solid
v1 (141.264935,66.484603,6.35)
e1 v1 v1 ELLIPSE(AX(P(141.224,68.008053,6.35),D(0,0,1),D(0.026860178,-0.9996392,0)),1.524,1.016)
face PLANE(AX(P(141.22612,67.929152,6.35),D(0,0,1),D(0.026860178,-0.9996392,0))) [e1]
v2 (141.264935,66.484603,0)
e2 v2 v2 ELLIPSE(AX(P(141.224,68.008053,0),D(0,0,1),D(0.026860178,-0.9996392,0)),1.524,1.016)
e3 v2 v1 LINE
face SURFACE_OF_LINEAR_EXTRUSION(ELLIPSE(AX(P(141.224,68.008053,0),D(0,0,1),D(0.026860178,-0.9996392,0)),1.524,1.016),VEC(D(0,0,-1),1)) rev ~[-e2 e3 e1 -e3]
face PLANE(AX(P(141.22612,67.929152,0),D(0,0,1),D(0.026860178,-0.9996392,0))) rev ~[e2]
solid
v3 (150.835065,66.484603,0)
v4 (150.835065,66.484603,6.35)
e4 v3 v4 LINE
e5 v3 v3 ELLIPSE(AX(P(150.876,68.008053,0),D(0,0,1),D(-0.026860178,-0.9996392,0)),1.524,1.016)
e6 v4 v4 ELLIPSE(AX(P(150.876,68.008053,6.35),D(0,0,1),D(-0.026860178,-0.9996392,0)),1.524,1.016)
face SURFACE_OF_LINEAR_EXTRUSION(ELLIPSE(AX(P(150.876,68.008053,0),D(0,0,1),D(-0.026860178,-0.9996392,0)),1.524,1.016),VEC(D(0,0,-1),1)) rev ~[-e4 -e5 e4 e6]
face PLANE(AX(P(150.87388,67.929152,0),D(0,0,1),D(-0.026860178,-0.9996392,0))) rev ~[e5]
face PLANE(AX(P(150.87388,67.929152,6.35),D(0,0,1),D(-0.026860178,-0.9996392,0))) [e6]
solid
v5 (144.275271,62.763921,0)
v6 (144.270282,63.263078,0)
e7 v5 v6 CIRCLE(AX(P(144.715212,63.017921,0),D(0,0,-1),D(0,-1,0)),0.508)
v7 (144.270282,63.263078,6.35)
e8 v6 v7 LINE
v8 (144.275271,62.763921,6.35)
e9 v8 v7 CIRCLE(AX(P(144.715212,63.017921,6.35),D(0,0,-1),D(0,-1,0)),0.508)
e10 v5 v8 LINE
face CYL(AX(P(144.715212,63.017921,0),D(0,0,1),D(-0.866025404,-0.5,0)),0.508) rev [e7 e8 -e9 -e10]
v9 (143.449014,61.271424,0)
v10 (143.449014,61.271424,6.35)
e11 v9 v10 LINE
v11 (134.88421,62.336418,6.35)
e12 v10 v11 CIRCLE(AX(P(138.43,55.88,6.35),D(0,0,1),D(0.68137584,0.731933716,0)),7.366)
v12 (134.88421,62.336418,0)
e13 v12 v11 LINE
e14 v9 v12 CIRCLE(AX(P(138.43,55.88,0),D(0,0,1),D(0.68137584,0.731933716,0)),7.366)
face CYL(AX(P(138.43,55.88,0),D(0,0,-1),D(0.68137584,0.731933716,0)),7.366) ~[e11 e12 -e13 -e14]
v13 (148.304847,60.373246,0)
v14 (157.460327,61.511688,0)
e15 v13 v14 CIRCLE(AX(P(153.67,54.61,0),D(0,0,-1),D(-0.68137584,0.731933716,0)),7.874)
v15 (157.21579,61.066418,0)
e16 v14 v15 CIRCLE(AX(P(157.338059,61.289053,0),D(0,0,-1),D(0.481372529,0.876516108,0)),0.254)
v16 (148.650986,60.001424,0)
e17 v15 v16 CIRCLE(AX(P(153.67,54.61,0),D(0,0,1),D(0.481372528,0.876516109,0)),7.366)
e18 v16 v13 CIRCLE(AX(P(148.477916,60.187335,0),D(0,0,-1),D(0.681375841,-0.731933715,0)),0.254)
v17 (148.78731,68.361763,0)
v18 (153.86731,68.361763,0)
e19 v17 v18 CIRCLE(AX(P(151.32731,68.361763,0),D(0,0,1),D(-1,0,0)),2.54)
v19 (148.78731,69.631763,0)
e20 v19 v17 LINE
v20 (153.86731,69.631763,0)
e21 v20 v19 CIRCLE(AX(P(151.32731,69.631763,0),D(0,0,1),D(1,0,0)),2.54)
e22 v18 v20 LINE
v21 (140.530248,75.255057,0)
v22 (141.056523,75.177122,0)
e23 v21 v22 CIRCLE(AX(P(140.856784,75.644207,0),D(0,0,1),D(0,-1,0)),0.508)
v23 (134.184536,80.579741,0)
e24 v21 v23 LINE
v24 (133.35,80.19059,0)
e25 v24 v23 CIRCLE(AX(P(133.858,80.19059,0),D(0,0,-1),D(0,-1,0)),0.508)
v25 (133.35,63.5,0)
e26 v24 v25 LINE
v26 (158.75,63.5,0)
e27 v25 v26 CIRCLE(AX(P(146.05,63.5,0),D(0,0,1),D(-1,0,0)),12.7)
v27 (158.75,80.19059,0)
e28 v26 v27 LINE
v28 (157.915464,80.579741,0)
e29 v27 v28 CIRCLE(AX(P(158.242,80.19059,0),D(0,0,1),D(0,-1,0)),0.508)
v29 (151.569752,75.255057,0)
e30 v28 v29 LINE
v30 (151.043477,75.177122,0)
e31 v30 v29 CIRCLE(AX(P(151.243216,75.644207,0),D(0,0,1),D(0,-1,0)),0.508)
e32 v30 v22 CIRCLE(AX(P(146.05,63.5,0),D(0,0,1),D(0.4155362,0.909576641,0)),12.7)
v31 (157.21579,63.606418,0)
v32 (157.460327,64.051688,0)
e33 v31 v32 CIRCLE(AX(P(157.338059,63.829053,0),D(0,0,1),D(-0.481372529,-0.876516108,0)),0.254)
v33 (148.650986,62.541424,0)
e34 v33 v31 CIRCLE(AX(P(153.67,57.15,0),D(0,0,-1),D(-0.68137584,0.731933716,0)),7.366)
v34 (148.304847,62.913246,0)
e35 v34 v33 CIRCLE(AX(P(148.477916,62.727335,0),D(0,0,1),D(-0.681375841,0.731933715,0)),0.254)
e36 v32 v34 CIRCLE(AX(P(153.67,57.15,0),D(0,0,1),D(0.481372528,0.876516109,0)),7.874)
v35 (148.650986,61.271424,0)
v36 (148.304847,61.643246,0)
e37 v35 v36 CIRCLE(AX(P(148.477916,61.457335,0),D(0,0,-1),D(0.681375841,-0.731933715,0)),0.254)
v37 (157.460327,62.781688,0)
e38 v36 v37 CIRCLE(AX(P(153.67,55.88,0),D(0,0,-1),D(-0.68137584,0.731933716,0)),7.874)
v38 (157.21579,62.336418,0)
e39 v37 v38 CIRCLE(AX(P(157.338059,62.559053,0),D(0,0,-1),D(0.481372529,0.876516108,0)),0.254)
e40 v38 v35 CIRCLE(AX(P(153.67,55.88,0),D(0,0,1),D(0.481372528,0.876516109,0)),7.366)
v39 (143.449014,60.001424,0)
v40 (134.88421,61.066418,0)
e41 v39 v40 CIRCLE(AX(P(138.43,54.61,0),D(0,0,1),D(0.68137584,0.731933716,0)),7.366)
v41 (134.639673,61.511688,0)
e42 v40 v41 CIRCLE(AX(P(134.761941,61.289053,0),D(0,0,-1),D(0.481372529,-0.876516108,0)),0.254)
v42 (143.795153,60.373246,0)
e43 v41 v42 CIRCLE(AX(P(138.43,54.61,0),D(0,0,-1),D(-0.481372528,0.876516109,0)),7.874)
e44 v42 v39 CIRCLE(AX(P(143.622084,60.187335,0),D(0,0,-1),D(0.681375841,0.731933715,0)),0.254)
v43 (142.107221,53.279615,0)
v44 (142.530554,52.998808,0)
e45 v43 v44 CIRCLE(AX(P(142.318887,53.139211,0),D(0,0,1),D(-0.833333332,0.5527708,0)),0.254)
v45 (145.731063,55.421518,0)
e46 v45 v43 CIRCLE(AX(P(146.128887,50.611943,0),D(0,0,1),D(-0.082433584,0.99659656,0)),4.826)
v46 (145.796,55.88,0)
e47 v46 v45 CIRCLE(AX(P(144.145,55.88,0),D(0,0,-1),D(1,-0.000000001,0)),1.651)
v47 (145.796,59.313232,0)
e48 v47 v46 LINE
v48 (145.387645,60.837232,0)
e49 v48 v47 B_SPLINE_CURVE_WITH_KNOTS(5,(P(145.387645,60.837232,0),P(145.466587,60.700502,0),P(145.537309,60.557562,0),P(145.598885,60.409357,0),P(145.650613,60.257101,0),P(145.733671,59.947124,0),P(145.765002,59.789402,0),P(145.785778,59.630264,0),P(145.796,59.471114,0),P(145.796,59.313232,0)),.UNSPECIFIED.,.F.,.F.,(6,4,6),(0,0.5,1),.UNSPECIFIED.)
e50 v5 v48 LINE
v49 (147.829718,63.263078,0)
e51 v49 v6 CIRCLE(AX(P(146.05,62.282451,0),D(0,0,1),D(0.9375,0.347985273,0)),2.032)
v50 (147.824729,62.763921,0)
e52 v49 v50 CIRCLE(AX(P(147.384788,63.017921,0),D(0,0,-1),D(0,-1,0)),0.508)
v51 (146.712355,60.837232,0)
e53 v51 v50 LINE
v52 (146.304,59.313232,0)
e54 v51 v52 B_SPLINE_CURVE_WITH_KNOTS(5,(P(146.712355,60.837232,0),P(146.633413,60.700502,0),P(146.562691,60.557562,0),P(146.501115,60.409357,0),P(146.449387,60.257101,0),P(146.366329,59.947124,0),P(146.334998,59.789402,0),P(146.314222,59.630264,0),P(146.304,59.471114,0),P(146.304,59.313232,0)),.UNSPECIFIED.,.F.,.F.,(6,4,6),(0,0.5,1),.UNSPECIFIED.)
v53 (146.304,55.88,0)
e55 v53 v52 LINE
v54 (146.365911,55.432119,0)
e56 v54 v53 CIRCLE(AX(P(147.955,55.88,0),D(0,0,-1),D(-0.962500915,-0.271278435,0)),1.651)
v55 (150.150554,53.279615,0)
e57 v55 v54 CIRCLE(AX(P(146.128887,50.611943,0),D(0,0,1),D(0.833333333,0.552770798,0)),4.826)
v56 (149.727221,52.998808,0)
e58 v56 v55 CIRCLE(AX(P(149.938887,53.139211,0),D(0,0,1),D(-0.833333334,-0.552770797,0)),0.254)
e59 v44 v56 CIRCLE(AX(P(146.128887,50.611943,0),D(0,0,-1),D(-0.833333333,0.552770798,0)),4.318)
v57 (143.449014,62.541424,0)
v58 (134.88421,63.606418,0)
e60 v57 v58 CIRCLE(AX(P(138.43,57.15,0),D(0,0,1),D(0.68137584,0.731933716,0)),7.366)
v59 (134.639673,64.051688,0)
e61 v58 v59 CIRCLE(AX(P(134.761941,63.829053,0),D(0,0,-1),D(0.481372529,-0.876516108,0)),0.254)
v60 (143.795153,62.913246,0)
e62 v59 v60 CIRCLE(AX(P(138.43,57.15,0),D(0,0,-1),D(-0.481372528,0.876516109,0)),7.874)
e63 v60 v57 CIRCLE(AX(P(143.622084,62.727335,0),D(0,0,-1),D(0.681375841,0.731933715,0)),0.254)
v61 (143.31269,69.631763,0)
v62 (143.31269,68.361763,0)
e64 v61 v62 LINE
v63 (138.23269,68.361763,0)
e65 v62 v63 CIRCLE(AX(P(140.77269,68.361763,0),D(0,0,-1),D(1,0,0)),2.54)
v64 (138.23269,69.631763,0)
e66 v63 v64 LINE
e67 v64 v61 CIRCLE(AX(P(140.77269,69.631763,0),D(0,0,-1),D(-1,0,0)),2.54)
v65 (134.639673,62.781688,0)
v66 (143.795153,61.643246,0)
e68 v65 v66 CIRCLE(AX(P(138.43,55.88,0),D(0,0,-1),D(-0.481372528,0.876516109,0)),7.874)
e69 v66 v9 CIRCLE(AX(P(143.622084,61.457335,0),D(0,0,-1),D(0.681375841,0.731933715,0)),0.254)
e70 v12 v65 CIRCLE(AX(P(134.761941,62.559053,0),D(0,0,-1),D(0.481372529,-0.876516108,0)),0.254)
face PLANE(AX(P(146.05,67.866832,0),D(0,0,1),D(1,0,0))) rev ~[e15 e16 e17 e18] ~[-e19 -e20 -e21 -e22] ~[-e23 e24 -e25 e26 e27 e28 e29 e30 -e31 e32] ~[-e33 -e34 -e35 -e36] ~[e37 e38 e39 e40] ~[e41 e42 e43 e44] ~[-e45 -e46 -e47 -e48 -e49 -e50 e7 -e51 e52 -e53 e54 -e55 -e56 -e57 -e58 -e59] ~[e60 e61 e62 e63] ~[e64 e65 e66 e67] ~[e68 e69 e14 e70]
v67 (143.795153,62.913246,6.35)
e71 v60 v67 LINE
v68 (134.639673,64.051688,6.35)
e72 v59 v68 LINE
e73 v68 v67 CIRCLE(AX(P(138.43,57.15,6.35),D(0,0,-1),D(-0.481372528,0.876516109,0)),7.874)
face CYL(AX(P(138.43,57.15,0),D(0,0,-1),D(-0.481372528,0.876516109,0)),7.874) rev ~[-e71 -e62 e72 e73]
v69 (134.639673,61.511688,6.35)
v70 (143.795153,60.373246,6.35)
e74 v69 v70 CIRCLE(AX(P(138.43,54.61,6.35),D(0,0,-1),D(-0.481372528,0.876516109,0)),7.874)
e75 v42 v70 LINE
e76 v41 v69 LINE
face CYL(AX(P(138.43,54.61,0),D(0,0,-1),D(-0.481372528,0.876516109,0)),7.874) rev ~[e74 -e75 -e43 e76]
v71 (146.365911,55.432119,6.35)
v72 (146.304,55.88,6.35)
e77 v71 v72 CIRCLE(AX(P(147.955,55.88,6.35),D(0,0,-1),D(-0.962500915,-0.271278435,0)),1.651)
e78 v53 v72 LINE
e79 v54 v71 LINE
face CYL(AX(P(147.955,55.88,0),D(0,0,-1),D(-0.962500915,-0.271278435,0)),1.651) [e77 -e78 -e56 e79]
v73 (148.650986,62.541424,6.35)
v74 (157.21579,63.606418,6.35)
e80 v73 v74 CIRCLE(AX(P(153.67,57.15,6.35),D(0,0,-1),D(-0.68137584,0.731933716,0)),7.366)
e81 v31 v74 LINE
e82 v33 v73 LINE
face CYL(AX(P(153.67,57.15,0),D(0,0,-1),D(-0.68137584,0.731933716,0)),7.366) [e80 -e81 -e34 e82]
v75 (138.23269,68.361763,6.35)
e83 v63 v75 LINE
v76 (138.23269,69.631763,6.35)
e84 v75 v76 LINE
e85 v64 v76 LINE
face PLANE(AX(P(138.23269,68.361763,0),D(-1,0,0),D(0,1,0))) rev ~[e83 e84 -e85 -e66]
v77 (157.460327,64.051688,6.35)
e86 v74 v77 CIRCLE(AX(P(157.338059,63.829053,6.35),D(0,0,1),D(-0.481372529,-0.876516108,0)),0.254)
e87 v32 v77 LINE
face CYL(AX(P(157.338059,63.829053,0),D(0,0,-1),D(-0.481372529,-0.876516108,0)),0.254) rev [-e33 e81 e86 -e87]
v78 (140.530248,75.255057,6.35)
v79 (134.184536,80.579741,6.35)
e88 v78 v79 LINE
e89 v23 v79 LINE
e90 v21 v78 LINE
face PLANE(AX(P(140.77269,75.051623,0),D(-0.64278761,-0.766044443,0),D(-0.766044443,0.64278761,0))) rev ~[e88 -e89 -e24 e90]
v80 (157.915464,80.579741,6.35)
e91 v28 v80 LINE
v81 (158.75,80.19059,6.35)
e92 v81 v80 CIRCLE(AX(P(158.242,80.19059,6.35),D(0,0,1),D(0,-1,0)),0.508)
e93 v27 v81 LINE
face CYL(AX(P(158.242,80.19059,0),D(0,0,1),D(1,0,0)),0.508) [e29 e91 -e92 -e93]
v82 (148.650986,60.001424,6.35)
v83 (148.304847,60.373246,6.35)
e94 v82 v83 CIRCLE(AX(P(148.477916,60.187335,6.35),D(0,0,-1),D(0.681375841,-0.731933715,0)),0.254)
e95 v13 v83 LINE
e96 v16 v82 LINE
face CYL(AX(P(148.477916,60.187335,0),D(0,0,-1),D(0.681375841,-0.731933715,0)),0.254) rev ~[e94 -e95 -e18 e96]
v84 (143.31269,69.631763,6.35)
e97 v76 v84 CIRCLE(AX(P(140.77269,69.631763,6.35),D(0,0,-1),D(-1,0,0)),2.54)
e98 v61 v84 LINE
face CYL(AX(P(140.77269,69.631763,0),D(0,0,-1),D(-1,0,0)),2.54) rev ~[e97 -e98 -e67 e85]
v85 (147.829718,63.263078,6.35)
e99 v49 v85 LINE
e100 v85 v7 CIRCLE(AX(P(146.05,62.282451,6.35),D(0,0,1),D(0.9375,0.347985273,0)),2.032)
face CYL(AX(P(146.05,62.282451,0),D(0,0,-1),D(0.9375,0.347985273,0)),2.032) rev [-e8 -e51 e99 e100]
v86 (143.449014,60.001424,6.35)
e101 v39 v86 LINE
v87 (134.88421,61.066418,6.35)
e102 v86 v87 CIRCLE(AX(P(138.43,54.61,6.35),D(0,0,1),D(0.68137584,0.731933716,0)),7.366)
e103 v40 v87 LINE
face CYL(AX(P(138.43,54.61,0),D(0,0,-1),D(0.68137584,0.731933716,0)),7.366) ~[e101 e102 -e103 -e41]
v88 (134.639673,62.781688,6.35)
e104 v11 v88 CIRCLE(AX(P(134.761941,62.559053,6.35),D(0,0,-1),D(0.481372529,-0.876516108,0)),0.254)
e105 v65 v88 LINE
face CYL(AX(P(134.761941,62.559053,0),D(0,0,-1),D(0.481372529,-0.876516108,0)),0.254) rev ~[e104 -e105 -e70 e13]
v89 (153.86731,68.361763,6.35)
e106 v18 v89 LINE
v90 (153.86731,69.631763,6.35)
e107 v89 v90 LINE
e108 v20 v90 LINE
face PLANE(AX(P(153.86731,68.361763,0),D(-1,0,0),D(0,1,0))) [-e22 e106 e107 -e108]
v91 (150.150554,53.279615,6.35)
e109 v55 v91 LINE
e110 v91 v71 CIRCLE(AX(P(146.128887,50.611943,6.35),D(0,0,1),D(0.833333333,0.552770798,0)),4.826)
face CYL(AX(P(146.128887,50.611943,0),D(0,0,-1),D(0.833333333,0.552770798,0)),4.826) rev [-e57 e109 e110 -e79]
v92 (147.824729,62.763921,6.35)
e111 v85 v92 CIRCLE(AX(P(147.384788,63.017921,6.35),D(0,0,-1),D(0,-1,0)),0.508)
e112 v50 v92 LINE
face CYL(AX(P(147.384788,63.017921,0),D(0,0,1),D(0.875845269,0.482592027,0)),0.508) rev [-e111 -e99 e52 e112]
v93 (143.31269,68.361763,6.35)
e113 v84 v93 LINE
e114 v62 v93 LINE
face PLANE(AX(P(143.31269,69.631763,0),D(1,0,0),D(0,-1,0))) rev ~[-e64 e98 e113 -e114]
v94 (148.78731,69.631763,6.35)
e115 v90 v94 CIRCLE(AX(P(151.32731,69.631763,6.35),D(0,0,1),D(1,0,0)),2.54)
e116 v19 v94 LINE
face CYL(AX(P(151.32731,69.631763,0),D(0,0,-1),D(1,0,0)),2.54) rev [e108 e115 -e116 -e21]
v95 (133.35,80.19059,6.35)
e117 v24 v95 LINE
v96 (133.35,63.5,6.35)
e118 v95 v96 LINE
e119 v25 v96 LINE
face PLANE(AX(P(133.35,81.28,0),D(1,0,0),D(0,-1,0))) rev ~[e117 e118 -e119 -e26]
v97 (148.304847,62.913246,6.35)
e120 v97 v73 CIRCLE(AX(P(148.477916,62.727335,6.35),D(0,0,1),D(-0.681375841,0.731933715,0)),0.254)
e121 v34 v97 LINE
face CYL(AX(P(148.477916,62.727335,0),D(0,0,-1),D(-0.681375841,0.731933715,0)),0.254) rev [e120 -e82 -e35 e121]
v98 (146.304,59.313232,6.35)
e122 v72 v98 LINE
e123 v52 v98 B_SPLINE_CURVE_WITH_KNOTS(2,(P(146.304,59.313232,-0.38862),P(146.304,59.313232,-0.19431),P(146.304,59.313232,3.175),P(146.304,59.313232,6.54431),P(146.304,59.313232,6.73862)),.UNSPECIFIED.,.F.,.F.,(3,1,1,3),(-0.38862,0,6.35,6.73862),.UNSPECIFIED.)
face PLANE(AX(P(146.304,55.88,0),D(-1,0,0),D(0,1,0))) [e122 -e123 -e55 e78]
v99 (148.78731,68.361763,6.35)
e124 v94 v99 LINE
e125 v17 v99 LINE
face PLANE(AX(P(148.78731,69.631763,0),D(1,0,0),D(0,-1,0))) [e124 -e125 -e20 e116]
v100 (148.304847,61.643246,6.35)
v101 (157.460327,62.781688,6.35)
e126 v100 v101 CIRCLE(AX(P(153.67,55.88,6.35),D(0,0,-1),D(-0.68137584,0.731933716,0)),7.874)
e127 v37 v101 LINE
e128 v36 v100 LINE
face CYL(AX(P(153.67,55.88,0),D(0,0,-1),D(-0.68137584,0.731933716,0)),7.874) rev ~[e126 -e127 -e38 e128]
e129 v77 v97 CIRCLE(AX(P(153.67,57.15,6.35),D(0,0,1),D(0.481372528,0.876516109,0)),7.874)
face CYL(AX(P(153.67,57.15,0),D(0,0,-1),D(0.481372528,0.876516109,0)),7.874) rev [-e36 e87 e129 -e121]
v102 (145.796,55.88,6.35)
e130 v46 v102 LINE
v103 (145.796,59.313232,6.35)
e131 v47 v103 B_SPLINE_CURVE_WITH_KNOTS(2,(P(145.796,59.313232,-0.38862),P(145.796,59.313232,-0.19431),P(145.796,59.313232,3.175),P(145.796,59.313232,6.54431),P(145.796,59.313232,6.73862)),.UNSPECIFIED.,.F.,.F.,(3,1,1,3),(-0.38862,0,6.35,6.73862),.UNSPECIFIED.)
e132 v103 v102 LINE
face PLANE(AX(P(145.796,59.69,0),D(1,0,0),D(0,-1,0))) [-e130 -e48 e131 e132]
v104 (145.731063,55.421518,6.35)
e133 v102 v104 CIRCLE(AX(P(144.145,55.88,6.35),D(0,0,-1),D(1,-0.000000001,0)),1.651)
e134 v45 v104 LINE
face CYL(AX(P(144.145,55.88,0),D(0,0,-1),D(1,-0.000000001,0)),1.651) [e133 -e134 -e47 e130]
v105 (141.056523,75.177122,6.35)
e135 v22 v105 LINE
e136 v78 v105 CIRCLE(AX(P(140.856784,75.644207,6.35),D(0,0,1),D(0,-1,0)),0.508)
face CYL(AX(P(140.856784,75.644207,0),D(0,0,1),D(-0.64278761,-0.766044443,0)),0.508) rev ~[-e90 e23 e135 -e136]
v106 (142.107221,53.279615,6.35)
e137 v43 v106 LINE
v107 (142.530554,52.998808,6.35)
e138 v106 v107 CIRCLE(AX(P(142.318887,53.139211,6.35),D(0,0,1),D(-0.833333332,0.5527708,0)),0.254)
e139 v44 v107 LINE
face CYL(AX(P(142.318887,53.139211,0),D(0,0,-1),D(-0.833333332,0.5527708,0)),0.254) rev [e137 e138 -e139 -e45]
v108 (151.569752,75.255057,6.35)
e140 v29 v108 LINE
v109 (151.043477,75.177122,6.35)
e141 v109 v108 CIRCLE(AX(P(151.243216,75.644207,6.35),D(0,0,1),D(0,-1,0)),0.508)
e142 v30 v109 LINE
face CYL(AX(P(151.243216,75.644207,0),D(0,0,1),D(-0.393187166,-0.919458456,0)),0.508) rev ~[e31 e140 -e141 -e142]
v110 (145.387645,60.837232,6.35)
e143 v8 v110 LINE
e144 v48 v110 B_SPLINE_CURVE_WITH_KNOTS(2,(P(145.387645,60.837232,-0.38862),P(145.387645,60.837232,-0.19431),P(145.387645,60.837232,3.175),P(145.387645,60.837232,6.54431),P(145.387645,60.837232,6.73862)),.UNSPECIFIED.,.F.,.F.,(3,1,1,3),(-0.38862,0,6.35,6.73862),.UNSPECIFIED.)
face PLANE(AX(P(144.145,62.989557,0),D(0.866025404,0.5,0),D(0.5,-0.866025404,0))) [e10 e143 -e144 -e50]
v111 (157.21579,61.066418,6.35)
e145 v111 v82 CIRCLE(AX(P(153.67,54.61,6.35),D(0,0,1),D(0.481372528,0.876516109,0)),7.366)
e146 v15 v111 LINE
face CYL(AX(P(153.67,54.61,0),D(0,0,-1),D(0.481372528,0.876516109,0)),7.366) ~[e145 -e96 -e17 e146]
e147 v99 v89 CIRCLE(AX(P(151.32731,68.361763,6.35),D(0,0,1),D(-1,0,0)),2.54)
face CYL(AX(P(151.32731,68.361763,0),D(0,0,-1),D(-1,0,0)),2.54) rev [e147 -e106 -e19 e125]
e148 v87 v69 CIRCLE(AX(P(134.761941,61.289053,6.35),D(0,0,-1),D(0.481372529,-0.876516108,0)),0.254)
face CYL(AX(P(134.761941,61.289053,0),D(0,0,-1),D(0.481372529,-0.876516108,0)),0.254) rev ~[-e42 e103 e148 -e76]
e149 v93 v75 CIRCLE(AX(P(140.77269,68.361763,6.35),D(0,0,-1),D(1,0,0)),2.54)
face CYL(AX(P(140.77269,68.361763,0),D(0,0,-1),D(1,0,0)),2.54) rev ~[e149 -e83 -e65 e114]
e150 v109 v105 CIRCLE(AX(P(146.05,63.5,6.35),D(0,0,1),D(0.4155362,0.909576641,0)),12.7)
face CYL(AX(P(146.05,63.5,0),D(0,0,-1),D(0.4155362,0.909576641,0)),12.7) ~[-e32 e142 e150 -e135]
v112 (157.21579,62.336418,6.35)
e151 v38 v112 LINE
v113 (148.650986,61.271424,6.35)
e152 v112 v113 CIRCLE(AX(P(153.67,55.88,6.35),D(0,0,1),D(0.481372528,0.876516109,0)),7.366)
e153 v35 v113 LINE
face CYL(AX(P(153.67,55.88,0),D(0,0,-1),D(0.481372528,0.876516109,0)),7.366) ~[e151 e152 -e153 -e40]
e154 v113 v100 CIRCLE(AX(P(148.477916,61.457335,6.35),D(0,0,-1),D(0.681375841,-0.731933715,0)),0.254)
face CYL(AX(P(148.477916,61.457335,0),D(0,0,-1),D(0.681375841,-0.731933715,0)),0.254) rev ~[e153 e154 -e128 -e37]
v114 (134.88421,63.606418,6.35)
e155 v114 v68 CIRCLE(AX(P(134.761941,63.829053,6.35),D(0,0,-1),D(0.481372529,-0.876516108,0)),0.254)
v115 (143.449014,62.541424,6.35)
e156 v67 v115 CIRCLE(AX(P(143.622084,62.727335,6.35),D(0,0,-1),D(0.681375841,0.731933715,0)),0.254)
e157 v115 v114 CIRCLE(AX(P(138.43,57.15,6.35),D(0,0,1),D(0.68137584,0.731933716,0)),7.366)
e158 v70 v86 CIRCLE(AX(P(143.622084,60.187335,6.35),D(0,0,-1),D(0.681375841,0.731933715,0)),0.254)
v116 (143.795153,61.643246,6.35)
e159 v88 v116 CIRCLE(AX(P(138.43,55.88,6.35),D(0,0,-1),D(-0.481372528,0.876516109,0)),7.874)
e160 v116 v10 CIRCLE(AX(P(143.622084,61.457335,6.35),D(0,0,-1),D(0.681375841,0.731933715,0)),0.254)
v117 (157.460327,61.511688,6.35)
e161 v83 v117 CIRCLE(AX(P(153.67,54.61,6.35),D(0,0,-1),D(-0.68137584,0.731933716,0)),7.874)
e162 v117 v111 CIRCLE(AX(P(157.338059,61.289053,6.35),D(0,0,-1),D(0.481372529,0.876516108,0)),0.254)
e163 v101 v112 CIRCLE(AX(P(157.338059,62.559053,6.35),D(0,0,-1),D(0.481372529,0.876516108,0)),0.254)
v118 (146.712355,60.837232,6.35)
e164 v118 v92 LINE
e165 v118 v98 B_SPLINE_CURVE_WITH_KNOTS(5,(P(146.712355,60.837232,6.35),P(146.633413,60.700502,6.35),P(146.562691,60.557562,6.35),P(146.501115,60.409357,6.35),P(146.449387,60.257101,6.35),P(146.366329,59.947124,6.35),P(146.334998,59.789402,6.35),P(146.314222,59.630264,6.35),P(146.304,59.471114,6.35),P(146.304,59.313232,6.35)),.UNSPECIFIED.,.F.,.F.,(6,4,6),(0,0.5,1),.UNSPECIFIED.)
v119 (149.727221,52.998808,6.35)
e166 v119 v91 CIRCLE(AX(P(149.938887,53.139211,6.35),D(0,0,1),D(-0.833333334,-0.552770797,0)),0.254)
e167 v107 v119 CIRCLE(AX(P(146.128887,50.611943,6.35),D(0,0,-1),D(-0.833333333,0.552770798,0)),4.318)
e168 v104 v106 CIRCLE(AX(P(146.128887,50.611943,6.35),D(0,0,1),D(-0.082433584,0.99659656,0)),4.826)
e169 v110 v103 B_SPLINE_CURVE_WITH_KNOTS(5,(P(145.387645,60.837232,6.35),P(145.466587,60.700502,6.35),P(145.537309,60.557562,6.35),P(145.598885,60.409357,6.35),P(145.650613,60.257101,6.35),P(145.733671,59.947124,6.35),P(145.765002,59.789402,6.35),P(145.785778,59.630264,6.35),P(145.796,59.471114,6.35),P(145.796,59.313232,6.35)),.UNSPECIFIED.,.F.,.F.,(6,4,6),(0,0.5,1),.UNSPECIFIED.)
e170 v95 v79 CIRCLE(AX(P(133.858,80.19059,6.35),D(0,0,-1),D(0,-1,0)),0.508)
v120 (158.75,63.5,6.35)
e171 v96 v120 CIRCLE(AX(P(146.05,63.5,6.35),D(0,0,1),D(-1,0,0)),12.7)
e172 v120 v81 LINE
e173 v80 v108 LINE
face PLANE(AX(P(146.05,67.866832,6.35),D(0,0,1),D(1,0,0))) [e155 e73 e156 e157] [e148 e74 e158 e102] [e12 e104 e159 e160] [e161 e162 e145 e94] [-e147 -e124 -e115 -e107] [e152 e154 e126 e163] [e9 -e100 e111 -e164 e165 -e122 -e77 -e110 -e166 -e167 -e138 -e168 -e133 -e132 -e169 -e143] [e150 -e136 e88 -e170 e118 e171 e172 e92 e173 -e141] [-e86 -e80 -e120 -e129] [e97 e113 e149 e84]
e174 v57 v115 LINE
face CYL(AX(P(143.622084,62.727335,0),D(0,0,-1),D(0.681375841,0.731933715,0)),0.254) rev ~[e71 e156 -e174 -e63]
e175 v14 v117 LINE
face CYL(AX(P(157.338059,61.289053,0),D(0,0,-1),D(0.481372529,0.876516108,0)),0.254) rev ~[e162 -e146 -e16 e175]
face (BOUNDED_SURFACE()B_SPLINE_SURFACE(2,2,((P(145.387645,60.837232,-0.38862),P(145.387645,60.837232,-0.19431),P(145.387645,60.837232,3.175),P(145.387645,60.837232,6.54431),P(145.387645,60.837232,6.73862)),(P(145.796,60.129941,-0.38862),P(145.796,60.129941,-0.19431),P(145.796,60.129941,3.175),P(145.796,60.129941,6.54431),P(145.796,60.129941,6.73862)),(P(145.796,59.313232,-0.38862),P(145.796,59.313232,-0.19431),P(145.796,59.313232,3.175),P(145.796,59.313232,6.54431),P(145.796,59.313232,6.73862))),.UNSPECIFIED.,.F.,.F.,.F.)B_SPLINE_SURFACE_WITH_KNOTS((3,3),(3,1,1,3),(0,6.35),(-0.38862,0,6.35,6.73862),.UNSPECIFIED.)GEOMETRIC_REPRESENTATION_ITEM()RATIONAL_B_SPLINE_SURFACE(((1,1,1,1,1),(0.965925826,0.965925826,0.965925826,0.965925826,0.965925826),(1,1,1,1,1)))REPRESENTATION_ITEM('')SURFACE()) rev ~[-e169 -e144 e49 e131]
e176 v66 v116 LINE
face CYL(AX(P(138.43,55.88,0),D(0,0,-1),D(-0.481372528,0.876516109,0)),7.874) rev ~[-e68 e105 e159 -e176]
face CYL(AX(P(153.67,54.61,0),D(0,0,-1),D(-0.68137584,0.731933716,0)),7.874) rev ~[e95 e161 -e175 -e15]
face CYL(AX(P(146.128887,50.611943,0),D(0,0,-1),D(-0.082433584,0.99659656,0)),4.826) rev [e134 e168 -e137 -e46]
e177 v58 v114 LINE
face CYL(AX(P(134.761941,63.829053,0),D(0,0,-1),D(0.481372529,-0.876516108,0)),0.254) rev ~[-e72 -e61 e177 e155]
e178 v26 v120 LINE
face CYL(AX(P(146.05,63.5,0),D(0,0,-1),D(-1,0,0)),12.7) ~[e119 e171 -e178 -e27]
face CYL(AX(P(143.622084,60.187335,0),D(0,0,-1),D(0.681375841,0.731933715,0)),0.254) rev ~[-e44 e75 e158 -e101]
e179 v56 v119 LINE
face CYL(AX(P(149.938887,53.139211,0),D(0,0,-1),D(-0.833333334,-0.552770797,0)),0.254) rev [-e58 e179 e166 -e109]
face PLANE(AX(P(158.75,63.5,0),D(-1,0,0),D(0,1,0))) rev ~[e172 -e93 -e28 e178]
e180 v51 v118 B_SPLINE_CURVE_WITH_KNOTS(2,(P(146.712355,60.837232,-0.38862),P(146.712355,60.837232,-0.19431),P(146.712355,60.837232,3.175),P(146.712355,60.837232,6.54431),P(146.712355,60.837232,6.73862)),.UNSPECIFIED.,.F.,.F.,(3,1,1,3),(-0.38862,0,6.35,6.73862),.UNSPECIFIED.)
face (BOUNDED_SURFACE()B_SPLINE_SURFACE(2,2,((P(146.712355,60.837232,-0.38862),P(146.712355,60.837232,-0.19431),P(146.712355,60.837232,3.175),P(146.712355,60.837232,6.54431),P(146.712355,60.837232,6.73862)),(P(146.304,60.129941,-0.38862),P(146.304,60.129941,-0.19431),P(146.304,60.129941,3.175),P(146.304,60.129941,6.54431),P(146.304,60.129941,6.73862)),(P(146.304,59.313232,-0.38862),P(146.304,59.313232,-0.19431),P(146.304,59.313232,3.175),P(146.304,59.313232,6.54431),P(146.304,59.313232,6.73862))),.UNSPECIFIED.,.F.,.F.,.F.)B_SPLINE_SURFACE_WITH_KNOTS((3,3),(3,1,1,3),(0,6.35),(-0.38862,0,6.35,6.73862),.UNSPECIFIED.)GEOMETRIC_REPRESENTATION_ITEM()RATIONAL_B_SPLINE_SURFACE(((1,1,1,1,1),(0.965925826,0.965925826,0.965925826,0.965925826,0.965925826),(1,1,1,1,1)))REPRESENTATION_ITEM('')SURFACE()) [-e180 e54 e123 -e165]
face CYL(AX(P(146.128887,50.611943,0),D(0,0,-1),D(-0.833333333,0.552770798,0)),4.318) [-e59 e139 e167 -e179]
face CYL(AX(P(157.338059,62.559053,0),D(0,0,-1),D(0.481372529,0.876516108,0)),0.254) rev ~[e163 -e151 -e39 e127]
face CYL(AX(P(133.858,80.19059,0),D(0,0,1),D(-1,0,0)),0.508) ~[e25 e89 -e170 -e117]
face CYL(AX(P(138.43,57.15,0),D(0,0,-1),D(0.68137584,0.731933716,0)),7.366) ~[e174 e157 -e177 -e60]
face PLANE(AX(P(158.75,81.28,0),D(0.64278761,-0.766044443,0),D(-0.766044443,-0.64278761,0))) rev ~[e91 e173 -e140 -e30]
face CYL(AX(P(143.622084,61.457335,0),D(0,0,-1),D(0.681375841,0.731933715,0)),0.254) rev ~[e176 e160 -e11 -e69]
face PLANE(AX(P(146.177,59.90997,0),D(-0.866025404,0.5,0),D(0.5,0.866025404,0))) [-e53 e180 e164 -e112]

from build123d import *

# Parameters (mm, degrees)
SKETCH1_RX            = 1.524
SKETCH1_RY            = 1.016
BOSS_EXTRUDE1_DEPTH   = 6.35
BOSS_EXTRUDE1_2_DEPTH = 6.35
BOSS_EXTRUDE1_3_DEPTH = 6.35
FILLET1_R             = 0.508
FILLET2_R             = 3.048


with BuildPart() as part:
    # Sketch1 → Boss-Extrude1 (new body)
    with BuildSketch(Plane.XY):
        with Locations(Location((141.224, 68.008052795), (0, 0, -88.460840042))):
            Ellipse(SKETCH1_RX, SKETCH1_RY)
    extrude(amount=BOSS_EXTRUDE1_DEPTH)


with BuildPart() as body_2:
    # Sketch1 → Boss-Extrude1 2 (new body)
    with BuildSketch(Plane.XY):
        with Locations(Location((150.876, 68.008052795), (0, 0, -91.539159958))):
            Ellipse(SKETCH1_RX, SKETCH1_RY)
    extrude(amount=BOSS_EXTRUDE1_2_DEPTH)


with BuildPart() as body_3:
    # Sketch1 → Boss-Extrude1 3 (new body)
    with BuildSketch(Plane.XY):
        with BuildLine():
            Line((133.35, 81.28), (133.35, 63.5))
            ThreePointArc((133.35, 63.5), (146.05, 50.8), (158.75, 63.5))
            Line((158.75, 63.5), (158.75, 81.28))
            Line((158.75, 81.28), (151.327309744, 75.051623344))
            ThreePointArc((151.327309744, 75.051623344), (146.05, 76.2), (140.772690256, 75.051623344))
            Line((140.772690256, 75.051623344), (133.35, 81.28))
        make_face()
        with BuildLine():
            Line((145.796, 59.69), (145.796, 55.88))
            ThreePointArc((145.796, 55.88), (145.779685122, 55.648471272), (145.73106293, 55.421518393))
            ThreePointArc((145.73106293, 55.421518393), (143.673299342, 54.766502726), (142.10722074, 53.279615266))
            ThreePointArc((142.10722074, 53.279615266), (142.178483624, 52.927544816), (142.530554073, 52.9988077))
            ThreePointArc((142.530554073, 52.9988077), (146.128887407, 54.929943393), (149.72722074, 52.9988077))
            ThreePointArc((149.72722074, 52.9988077), (150.07929119, 52.927544816), (150.150554073, 53.279615266))
            ThreePointArc((150.150554073, 53.279615266), (148.5147686, 54.806922169), (146.36591099, 55.432119305))
            ThreePointArc((146.36591099, 55.432119305), (146.319550986, 55.653930272), (146.304, 55.88))
            Line((146.304, 55.88), (146.304, 59.69))
            ThreePointArc((146.304, 59.69), (146.269970453, 59.817), (146.177, 59.909970453))
            Line((146.177, 59.909970453), (147.955, 62.989556788))
            ThreePointArc((147.955, 62.989556788), (146.05, 64.314450714), (144.145, 62.989556788))
            Line((144.145, 62.989556788), (145.923, 59.909970453))
            ThreePointArc((145.923, 59.909970453), (145.830029547, 59.817), (145.796, 59.69))
        make_face(mode=Mode.SUBTRACT)
        with BuildLine():
            Line((143.312690256, 69.631762854), (143.312690256, 68.361762854))
            ThreePointArc((143.312690256, 68.361762854), (140.772690256, 65.821762854), (138.232690256, 68.361762854))
            Line((138.232690256, 68.361762854), (138.232690256, 69.631762854))
            ThreePointArc((138.232690256, 69.631762854), (140.772690256, 72.171762854), (143.312690256, 69.631762854))
        make_face(mode=Mode.SUBTRACT)
        with BuildLine():
            Line((148.787309744, 69.631762854), (148.787309744, 68.361762854))
            ThreePointArc((148.787309744, 68.361762854), (151.327309744, 65.821762854), (153.867309744, 68.361762854))
            Line((153.867309744, 68.361762854), (153.867309744, 69.631762854))
            ThreePointArc((153.867309744, 69.631762854), (151.327309744, 72.171762854), (148.787309744, 69.631762854))
        make_face(mode=Mode.SUBTRACT)
        with BuildLine():
            ThreePointArc((148.304846636, 61.64324608), (152.698387061, 63.693823923), (157.460327288, 62.781687841))
            ThreePointArc((157.460327288, 62.781687841), (157.560693757, 62.436784127), (157.215790043, 62.336417658))
            ThreePointArc((157.215790043, 62.336417658), (152.761071767, 63.18970625), (148.650985563, 61.271423753))
            ThreePointArc((148.650985563, 61.271423753), (148.292004936, 61.284265453), (148.304846636, 61.64324608))
        make_face(mode=Mode.SUBTRACT)
        with BuildLine():
            ThreePointArc((148.650985563, 62.541423753), (152.761071767, 64.45970625), (157.215790043, 63.606417658))
            ThreePointArc((157.215790043, 63.606417658), (157.560693757, 63.706784127), (157.460327288, 64.051687841))
            ThreePointArc((157.460327288, 64.051687841), (152.698387061, 64.963823923), (148.304846636, 62.91324608))
            ThreePointArc((148.304846636, 62.91324608), (148.292004936, 62.554265453), (148.650985563, 62.541423753))
        make_face(mode=Mode.SUBTRACT)
        with BuildLine():
            ThreePointArc((148.304846636, 60.37324608), (152.698387061, 62.423823923), (157.460327288, 61.511687841))
            ThreePointArc((157.460327288, 61.511687841), (157.560693757, 61.166784127), (157.215790043, 61.066417658))
            ThreePointArc((157.215790043, 61.066417658), (152.761071767, 61.91970625), (148.650985563, 60.001423753))
            ThreePointArc((148.650985563, 60.001423753), (148.292004936, 60.014265453), (148.304846636, 60.37324608))
        make_face(mode=Mode.SUBTRACT)
        with BuildLine():
            ThreePointArc((134.884209957, 62.336417658), (134.539306243, 62.436784127), (134.639672712, 62.781687841))
            ThreePointArc((134.639672712, 62.781687841), (139.401612939, 63.693823923), (143.795153364, 61.64324608))
            ThreePointArc((143.795153364, 61.64324608), (143.807995064, 61.284265453), (143.449014437, 61.271423753))
            ThreePointArc((143.449014437, 61.271423753), (139.338928233, 63.18970625), (134.884209957, 62.336417658))
        make_face(mode=Mode.SUBTRACT)
        with BuildLine():
            ThreePointArc((134.884209957, 61.066417658), (134.539306243, 61.166784127), (134.639672712, 61.511687841))
            ThreePointArc((134.639672712, 61.511687841), (139.401612939, 62.423823923), (143.795153364, 60.37324608))
            ThreePointArc((143.795153364, 60.37324608), (143.807995064, 60.014265453), (143.449014437, 60.001423753))
            ThreePointArc((143.449014437, 60.001423753), (139.338928233, 61.91970625), (134.884209957, 61.066417658))
        make_face(mode=Mode.SUBTRACT)
        with BuildLine():
            ThreePointArc((134.884209957, 63.606417658), (134.539306243, 63.706784127), (134.639672712, 64.051687841))
            ThreePointArc((134.639672712, 64.051687841), (139.401612939, 64.963823923), (143.795153364, 62.91324608))
            ThreePointArc((143.795153364, 62.91324608), (143.807995064, 62.554265453), (143.449014437, 62.541423753))
            ThreePointArc((143.449014437, 62.541423753), (139.338928233, 64.45970625), (134.884209957, 63.606417658))
        make_face(mode=Mode.SUBTRACT)
    extrude(amount=BOSS_EXTRUDE1_3_DEPTH)

    # Fillet1
    fillet1_edges = [body_3.edges().sort_by_distance(p)[0] for p in [
        (133.35, 81.28, 3.175),
        (140.772690256, 75.051623344, 3.175),
        (151.327309744, 75.051623344, 3.175),
        (158.75, 81.28, 3.175),
        (147.955, 62.989556788, 3.175),
        (144.145, 62.989556788, 3.175),
    ]]
    fillet(fillet1_edges, radius=FILLET1_R)

    # Fillet2
    fillet2_edges = [body_3.edges().sort_by_distance(p)[0] for p in [
        (146.177, 59.909970453, 3.175),
        (145.923, 59.909970453, 3.175),
    ]]
    fillet(fillet2_edges, radius=FILLET2_R)


solid = Compound([part.part, body_2.part, body_3.part])
